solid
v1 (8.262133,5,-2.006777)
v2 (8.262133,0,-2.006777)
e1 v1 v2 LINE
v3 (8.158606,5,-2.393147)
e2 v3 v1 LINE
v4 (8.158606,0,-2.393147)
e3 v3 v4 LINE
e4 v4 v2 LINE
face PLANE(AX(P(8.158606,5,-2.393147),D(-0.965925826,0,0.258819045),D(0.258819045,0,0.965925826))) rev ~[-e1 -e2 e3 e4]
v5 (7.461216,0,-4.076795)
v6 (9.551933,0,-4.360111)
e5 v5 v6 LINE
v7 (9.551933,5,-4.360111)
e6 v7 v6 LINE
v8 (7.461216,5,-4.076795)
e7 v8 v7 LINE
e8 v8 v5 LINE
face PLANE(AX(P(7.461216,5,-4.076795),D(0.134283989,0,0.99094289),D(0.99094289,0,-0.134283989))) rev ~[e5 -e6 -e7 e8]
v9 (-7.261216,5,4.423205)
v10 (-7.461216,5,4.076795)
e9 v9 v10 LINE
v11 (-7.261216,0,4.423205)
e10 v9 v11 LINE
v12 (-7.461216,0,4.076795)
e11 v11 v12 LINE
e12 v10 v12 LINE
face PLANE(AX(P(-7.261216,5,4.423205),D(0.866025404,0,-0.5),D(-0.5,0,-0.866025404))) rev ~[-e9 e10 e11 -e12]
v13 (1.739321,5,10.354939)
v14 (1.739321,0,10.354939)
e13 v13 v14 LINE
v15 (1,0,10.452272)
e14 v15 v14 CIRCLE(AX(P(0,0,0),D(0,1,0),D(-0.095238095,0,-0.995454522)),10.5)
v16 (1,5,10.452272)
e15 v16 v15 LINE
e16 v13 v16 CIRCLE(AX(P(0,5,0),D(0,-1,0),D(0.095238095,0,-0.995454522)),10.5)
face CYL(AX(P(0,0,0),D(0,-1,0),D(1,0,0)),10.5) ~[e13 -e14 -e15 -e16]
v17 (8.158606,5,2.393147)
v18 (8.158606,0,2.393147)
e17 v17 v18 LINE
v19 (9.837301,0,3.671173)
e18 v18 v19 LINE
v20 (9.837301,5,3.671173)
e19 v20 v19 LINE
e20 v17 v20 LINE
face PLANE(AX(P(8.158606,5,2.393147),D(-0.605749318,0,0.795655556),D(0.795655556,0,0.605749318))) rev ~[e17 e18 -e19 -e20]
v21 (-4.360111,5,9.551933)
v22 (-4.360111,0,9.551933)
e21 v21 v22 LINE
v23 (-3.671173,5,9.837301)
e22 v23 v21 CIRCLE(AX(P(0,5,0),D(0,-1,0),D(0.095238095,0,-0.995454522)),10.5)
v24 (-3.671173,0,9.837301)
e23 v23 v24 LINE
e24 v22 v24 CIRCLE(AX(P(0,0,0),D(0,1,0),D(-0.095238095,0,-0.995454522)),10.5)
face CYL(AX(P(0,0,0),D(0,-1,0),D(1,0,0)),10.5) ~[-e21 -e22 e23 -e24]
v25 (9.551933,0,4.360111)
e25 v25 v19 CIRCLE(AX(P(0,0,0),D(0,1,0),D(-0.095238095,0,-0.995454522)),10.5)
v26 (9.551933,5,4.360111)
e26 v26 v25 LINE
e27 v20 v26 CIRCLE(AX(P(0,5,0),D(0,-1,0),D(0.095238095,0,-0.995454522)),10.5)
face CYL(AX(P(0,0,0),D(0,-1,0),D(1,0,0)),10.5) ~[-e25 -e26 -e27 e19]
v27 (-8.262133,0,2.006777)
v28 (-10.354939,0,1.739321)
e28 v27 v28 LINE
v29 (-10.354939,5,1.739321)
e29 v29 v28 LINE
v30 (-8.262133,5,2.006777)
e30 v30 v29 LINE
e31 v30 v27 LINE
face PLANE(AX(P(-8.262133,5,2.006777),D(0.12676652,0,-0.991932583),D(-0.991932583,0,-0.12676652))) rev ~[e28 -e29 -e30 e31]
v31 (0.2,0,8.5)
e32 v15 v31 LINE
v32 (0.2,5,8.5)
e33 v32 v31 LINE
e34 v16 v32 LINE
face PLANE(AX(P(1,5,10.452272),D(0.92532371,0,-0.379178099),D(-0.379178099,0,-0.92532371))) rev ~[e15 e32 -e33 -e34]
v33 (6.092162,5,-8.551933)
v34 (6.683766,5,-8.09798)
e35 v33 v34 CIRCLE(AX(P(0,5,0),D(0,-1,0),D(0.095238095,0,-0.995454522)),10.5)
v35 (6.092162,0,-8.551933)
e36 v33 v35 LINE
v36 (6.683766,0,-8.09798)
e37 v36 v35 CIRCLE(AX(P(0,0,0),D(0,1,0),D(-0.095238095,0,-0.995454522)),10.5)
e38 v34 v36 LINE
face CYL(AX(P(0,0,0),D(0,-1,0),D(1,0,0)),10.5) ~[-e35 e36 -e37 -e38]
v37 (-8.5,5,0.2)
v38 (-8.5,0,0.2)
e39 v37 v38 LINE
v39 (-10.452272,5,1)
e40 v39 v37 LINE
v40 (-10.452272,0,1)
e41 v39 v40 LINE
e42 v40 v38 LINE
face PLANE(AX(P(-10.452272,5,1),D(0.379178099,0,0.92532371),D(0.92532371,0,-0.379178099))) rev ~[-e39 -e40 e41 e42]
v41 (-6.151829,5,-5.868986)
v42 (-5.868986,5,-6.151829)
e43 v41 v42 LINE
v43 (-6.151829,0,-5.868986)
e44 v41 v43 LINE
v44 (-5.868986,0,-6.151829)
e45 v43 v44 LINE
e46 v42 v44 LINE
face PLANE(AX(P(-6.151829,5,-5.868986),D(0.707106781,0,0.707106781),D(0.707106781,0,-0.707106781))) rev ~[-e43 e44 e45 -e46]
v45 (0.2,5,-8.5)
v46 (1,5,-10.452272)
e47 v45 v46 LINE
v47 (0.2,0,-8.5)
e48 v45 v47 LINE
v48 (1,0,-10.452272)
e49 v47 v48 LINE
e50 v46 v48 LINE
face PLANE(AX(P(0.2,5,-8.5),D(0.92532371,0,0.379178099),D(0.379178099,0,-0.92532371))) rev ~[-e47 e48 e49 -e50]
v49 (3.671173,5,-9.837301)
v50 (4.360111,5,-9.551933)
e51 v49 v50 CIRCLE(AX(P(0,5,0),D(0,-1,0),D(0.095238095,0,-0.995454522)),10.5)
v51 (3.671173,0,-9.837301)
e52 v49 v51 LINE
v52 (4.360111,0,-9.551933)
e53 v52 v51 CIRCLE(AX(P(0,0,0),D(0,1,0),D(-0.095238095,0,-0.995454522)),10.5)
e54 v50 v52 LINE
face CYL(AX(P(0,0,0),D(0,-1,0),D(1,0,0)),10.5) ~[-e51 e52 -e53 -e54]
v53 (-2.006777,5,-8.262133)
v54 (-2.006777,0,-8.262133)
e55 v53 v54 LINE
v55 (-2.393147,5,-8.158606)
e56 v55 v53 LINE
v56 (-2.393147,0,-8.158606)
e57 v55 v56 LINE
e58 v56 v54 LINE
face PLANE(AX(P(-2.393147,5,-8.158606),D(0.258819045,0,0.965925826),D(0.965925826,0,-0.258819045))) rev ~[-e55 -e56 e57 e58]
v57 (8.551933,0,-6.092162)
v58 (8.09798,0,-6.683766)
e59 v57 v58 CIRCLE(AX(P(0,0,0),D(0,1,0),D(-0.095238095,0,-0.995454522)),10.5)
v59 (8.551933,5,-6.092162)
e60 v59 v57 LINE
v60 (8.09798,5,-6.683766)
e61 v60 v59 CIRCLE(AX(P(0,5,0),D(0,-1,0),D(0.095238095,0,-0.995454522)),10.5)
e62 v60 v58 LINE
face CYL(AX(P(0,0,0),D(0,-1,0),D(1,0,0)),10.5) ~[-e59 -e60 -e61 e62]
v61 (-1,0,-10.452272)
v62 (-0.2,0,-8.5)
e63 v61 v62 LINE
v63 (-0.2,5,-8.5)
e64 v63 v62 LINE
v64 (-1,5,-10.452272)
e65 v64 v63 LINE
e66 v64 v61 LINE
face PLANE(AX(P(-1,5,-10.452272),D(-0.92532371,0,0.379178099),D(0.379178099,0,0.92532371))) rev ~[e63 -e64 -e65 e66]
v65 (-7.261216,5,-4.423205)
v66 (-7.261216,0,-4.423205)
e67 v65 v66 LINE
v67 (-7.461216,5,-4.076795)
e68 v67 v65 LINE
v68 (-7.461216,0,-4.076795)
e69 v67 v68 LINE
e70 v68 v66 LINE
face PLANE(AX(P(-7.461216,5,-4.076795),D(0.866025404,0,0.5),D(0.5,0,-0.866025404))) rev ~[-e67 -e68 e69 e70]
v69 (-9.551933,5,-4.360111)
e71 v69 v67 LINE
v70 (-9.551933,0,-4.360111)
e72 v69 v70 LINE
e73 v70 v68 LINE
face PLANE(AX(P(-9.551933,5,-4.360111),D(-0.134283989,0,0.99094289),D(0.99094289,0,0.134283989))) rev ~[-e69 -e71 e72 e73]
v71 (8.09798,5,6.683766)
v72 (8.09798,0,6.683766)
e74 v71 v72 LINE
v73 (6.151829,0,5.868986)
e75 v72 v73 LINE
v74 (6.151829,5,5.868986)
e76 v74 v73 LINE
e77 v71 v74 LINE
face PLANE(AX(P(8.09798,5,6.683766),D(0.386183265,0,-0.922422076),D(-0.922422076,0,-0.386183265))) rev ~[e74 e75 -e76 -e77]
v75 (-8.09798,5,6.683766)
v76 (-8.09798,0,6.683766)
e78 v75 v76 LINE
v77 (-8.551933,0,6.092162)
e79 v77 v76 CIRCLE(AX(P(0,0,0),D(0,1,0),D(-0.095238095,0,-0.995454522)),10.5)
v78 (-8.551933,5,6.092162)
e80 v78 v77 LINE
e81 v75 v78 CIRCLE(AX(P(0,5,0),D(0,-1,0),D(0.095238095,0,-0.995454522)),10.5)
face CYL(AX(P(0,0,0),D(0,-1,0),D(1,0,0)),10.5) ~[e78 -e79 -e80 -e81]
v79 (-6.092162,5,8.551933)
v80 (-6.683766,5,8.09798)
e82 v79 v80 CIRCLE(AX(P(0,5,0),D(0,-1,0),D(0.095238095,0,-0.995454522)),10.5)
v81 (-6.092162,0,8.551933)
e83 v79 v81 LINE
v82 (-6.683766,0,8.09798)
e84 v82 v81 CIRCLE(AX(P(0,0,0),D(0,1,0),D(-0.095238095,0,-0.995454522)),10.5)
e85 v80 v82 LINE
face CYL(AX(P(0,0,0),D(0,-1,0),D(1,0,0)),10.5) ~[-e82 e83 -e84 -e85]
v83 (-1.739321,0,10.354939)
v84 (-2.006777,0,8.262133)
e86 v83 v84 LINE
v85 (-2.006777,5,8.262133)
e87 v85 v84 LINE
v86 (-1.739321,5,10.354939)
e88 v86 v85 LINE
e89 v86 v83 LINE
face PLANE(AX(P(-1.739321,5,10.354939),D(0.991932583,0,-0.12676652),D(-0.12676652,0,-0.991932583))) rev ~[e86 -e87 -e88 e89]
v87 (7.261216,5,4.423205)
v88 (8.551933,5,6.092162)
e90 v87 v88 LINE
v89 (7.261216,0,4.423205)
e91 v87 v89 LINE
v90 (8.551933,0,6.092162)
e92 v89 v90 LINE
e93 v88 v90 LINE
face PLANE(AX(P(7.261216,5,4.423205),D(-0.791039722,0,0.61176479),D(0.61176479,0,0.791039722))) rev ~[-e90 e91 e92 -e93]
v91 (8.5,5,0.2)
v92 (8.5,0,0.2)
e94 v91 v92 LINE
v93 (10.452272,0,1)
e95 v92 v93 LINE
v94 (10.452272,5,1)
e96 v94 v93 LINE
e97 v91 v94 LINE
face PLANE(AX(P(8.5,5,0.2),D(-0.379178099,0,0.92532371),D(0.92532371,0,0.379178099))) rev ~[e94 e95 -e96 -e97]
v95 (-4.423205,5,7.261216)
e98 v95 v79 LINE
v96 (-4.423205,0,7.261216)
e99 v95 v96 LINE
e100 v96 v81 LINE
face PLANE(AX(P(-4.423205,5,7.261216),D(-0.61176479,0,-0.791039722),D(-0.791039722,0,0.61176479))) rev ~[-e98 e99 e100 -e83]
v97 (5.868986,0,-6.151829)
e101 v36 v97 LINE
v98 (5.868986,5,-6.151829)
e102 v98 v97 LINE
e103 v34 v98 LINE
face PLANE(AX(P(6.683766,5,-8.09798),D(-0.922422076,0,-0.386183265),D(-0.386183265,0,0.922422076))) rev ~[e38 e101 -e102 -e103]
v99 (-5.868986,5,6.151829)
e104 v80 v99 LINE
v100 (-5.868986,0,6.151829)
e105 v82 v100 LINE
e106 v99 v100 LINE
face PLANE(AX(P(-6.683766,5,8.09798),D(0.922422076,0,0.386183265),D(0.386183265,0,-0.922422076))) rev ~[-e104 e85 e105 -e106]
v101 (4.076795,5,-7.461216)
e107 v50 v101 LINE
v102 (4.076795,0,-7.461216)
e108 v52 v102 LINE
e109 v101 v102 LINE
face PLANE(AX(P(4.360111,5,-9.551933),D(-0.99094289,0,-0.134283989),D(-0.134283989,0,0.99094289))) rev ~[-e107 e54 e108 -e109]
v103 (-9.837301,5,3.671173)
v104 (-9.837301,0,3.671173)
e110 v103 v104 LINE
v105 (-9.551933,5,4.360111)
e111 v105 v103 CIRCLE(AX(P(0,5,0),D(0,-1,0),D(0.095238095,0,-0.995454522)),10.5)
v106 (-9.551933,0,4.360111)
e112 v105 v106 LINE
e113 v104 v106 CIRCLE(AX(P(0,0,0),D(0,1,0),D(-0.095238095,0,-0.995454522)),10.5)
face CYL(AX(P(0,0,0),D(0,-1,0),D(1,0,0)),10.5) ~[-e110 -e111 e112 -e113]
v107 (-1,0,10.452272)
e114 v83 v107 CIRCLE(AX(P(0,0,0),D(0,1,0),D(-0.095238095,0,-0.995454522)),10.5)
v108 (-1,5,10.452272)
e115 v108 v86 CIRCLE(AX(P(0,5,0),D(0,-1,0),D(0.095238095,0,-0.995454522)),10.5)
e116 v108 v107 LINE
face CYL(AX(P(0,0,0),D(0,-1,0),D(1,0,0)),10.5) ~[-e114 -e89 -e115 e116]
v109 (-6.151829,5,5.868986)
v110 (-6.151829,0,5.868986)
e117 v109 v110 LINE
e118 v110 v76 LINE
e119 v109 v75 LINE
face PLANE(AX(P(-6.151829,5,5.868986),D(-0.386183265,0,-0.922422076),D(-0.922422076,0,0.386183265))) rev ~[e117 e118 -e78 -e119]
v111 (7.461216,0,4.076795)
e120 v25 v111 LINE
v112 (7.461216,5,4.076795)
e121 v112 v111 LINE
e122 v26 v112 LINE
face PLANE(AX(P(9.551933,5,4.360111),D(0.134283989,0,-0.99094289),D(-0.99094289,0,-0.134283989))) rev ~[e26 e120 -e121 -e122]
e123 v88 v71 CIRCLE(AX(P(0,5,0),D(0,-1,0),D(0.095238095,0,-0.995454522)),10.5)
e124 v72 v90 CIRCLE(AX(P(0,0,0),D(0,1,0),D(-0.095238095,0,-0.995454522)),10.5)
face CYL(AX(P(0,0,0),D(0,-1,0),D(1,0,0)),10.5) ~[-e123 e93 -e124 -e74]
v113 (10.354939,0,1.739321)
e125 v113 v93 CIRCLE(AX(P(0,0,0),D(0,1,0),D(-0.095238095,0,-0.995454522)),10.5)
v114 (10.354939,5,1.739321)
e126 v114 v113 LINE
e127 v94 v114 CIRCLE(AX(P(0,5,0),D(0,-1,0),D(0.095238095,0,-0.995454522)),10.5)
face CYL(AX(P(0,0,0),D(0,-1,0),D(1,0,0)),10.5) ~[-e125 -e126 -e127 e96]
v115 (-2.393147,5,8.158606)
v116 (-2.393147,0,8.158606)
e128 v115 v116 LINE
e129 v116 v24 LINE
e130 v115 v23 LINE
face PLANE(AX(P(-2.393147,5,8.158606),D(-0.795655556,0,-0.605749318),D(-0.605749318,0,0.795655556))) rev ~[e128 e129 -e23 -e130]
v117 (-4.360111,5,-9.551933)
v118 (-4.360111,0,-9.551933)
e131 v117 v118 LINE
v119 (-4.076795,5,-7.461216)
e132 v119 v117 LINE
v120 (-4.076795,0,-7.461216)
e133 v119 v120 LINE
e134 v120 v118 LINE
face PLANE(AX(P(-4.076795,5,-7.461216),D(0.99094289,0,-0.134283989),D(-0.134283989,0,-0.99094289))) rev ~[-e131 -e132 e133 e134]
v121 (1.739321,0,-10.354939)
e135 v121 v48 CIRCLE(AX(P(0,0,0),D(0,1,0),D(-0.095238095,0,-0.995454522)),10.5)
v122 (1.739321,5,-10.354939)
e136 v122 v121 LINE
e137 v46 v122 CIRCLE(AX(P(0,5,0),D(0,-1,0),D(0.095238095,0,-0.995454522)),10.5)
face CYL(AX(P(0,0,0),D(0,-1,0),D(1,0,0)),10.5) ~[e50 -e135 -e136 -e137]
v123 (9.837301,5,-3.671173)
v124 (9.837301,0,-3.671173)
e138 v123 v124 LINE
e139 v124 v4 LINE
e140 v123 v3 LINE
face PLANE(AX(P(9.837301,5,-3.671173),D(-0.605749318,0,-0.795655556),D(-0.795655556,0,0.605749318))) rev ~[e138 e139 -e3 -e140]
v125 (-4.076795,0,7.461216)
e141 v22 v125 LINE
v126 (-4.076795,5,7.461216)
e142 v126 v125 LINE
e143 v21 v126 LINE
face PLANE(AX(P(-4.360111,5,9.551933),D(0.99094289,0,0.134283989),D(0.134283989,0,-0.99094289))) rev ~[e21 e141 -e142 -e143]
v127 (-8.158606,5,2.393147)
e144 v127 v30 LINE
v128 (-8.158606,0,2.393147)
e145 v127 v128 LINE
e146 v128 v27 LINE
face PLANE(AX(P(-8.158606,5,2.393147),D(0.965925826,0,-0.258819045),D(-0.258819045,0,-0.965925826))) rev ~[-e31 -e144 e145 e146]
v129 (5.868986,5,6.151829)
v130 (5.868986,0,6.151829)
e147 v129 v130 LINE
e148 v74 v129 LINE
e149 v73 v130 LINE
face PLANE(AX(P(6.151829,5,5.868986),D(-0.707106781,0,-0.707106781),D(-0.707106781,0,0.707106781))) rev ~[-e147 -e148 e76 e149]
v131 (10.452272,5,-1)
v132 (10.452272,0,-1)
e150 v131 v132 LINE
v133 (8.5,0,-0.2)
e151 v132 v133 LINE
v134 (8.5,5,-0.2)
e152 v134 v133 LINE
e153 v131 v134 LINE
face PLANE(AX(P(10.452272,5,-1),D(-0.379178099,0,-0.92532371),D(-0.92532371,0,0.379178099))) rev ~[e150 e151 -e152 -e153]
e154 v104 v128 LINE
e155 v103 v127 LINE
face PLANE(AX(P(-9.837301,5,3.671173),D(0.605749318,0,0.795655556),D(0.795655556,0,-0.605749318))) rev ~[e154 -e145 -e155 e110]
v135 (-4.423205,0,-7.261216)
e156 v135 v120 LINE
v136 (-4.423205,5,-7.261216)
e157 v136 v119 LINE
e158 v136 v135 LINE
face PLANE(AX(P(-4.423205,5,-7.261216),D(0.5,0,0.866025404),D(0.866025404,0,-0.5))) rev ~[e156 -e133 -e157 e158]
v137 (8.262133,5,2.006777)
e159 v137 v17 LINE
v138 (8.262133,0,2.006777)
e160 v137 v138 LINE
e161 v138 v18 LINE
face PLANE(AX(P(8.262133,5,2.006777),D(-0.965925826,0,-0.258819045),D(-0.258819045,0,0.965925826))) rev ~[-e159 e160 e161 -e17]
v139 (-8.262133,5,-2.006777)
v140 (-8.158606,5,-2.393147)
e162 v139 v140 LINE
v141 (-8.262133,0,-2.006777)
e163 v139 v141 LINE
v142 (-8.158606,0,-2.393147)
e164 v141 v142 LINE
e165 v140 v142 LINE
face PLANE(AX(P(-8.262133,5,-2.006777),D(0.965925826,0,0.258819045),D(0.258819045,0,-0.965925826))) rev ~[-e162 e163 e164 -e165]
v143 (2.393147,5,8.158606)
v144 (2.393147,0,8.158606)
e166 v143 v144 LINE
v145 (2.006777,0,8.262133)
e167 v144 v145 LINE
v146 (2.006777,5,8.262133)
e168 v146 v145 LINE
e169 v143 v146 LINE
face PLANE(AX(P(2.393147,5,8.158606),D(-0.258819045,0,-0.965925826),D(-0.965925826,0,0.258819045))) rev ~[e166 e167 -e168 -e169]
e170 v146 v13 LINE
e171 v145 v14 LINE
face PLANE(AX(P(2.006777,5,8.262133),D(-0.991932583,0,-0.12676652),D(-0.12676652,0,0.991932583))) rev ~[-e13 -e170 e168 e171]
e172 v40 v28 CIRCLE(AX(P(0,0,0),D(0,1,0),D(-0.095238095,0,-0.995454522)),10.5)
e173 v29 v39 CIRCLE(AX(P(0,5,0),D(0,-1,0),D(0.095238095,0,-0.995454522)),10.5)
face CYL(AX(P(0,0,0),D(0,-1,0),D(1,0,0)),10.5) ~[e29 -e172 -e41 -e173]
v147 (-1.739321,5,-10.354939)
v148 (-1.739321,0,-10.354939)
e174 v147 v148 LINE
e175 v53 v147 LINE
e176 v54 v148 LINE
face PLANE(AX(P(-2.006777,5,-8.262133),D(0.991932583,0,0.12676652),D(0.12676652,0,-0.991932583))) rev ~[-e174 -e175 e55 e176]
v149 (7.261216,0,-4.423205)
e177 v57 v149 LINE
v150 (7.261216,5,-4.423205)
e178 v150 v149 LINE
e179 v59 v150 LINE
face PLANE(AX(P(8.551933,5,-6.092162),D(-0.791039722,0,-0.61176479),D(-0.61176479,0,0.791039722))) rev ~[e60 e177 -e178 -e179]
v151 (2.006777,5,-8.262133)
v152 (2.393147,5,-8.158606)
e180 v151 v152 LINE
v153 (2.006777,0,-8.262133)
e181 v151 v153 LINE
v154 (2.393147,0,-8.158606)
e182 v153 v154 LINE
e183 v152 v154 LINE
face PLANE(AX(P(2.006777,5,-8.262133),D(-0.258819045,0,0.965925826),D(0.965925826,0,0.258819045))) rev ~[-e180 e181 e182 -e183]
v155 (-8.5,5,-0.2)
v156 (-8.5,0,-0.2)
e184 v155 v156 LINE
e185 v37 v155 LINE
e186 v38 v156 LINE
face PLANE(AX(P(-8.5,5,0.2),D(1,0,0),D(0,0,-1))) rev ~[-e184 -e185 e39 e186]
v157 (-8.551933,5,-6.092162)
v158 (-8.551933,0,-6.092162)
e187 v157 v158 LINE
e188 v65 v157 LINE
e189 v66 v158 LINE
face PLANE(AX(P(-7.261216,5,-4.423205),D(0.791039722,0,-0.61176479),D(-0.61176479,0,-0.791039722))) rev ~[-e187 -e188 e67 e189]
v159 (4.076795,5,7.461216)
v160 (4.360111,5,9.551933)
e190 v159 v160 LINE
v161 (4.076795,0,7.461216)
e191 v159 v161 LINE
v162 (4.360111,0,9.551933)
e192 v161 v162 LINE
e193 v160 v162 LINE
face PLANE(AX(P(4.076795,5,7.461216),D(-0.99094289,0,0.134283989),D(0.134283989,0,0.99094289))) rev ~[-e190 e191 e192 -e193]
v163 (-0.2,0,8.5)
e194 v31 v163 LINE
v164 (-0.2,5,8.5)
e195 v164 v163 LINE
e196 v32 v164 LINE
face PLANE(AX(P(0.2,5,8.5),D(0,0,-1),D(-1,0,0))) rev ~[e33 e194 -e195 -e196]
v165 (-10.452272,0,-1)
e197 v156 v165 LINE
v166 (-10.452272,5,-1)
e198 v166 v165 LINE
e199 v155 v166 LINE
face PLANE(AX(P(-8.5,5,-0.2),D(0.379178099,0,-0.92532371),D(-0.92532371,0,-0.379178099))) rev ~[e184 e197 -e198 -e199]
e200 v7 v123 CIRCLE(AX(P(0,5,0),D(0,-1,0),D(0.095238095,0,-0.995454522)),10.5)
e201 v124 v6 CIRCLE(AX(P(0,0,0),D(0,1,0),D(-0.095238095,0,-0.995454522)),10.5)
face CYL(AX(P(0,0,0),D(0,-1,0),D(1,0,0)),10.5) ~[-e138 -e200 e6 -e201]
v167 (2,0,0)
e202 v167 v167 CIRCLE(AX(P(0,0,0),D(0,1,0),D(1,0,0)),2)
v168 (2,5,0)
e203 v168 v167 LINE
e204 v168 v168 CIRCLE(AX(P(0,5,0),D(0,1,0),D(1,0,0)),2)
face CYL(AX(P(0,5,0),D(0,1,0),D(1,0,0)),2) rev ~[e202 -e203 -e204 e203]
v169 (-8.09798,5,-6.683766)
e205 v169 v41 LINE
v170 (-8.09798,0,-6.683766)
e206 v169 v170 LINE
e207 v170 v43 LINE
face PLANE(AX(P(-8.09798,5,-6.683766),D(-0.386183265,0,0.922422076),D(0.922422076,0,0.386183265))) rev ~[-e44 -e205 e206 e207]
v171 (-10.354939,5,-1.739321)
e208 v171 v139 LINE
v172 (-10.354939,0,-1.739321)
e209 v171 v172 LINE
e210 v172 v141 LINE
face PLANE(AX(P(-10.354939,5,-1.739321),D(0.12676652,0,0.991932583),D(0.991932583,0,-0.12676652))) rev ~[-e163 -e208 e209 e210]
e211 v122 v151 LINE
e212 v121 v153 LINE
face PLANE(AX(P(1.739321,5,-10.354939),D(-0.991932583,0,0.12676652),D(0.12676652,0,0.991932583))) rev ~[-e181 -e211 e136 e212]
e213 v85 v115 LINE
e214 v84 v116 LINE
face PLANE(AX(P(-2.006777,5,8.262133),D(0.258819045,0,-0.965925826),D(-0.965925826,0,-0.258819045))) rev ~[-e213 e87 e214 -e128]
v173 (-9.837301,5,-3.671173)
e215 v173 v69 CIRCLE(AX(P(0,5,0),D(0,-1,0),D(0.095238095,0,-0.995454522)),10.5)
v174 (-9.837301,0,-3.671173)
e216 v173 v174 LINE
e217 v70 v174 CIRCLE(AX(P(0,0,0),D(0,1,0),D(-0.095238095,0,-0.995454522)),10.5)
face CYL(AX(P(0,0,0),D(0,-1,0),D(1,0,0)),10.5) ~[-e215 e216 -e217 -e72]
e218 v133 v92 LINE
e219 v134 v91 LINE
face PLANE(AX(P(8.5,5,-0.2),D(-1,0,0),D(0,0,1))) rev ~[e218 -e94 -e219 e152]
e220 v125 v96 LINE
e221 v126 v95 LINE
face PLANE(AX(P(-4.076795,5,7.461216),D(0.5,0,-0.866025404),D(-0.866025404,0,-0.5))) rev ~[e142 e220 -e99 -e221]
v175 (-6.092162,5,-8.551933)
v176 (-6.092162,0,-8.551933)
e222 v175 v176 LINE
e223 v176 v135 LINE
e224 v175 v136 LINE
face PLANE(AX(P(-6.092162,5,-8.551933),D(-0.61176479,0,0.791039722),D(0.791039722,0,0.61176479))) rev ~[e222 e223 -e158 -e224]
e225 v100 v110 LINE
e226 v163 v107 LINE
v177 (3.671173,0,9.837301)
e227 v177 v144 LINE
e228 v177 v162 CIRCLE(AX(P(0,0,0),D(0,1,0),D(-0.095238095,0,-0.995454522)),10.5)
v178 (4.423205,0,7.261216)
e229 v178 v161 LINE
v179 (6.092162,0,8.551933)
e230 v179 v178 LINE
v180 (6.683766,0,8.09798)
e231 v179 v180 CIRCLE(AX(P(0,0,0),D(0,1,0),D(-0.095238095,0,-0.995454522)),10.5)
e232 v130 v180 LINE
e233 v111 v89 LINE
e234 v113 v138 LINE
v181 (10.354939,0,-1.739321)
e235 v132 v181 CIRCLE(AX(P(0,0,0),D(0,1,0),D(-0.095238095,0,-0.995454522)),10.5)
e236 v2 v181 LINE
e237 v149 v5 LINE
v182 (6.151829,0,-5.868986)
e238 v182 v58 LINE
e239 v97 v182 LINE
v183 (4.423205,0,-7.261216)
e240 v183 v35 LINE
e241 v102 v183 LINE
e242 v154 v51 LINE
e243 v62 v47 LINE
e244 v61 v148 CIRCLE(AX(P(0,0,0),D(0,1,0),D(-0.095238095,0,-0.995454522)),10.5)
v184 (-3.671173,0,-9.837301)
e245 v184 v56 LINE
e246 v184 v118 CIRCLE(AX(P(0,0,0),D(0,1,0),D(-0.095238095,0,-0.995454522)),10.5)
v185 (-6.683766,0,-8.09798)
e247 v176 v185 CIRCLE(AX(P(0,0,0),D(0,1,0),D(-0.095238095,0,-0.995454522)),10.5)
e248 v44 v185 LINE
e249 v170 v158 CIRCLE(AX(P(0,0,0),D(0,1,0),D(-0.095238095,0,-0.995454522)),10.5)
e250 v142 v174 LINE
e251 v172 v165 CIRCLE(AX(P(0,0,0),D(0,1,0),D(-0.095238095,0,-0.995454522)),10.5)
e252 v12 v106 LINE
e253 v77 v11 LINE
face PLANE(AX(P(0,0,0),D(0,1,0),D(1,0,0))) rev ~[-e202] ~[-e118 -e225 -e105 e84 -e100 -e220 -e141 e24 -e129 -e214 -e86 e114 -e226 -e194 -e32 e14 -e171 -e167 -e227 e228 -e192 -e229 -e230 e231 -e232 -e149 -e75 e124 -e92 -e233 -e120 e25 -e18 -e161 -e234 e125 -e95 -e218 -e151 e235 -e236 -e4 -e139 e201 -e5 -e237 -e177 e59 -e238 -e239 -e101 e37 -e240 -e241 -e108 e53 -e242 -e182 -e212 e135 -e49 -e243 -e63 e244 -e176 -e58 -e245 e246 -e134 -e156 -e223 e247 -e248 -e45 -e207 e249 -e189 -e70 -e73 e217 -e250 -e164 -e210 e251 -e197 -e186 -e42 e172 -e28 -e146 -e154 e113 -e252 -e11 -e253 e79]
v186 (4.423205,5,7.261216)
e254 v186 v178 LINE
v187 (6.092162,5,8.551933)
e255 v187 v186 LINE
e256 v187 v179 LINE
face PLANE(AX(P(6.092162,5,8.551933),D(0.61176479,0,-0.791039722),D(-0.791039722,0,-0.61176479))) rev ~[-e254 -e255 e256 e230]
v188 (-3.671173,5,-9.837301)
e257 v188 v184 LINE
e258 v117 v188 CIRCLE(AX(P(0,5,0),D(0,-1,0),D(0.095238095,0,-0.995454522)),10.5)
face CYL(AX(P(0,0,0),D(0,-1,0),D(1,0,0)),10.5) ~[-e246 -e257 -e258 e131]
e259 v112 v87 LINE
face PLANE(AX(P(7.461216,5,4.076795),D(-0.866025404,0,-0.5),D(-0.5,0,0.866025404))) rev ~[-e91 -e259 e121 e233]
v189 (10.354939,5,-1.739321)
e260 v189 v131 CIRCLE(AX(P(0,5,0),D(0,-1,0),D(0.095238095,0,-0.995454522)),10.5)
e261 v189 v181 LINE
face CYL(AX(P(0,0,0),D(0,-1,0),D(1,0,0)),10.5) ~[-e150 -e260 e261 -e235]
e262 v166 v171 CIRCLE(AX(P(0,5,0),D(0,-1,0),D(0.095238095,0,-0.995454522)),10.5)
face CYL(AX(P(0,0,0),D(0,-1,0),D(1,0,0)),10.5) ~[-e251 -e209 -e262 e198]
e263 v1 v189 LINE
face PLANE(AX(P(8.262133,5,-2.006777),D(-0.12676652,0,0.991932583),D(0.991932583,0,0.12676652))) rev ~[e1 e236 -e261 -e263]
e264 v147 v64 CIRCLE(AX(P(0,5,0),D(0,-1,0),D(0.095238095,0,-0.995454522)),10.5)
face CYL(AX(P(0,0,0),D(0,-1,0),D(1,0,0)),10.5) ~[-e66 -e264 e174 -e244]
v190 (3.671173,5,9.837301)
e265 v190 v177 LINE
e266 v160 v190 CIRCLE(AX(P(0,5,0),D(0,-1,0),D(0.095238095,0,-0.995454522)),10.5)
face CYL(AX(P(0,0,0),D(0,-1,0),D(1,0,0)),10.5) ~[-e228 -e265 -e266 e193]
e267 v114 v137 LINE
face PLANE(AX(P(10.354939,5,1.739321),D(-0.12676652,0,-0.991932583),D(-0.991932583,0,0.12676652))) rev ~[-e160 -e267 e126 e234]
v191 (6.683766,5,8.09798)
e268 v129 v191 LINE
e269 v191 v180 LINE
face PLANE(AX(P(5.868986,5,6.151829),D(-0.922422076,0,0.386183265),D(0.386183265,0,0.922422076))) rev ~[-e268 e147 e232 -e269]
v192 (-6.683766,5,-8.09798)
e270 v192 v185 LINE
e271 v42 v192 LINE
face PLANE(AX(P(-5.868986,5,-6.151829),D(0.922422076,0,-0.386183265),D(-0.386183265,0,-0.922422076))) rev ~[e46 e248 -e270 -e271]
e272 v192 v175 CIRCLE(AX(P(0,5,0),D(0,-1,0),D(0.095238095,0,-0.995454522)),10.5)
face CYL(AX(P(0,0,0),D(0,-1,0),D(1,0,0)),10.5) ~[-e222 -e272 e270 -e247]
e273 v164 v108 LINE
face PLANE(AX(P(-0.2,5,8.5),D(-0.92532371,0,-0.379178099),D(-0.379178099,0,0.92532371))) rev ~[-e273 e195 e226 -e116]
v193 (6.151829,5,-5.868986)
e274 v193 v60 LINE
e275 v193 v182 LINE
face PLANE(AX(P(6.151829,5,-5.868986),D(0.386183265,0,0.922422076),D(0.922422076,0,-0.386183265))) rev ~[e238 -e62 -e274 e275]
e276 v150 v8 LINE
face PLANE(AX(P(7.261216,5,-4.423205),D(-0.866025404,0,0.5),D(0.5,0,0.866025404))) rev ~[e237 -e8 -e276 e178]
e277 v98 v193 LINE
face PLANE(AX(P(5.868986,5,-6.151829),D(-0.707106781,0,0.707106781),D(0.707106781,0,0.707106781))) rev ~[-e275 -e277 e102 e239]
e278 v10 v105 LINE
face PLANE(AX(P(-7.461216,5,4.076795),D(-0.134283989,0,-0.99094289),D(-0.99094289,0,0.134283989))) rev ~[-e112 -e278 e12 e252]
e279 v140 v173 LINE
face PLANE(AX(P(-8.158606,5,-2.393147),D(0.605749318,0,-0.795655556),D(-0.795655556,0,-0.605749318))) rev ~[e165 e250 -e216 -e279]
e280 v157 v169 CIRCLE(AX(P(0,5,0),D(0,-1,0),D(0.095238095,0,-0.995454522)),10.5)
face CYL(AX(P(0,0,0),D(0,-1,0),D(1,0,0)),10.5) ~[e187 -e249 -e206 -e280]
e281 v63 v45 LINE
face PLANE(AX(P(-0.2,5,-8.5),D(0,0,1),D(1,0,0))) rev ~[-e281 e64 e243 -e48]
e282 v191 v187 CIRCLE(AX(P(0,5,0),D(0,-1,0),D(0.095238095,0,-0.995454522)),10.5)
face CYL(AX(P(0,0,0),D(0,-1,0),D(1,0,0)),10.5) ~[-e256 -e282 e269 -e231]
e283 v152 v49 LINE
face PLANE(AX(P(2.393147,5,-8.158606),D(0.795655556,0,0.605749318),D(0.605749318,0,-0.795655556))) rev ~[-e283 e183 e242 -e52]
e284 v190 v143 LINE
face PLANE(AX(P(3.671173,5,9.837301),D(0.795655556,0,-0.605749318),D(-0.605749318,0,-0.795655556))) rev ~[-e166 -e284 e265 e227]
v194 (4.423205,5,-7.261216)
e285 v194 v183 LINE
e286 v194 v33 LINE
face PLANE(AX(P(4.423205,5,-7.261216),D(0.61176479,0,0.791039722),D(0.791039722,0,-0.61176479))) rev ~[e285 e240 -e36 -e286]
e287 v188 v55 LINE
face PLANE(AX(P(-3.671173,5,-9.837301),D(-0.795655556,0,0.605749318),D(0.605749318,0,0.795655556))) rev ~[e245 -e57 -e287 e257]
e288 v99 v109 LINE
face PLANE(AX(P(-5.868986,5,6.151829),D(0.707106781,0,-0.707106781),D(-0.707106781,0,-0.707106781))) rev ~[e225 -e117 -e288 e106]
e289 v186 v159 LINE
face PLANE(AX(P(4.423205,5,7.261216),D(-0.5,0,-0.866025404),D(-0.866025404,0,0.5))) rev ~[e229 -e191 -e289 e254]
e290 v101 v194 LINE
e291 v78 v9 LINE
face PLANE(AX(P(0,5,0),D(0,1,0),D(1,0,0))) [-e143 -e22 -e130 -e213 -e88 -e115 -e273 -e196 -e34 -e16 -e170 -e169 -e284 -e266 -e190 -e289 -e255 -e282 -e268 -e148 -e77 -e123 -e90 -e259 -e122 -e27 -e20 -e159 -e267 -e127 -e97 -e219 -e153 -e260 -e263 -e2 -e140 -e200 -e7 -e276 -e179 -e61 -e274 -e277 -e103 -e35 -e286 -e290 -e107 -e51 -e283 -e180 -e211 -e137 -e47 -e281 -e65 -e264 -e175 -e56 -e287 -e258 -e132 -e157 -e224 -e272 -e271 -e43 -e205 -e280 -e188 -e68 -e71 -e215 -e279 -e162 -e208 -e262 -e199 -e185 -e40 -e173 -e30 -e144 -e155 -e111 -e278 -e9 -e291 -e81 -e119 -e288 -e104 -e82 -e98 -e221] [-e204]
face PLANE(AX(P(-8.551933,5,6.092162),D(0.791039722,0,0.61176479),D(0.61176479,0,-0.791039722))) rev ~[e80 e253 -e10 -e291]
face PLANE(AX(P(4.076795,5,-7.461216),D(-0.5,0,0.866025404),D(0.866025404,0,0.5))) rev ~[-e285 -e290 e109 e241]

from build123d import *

# Parameters (mm, degrees)
SKETCH1_R           = 10.5
BOSS_EXTRUDE1_DEPTH = 5
SKETCH2_R           = 2
CUT_EXTRUDE1_DEPTH  = 6
CUT_EXTRUDE2_DEPTH  = 5
CIRPATTERN1_COUNT   = 24


with BuildPart() as part:
    # Sketch1 → Boss-Extrude1 (new body)
    with BuildSketch(Plane(origin=(0, 0, 0), x_dir=(1, 0, 0), z_dir=(0, 1, 0))):
        Circle(SKETCH1_R)
    extrude(amount=BOSS_EXTRUDE1_DEPTH)

    # Sketch2 → Cut-Extrude1 (cut, through all)
    with BuildSketch(Plane(origin=(0, 5, 0), x_dir=(1, 0, 0), z_dir=(0, 1, 0))):
        Circle(SKETCH2_R)
    extrude(amount=-CUT_EXTRUDE1_DEPTH, mode=Mode.SUBTRACT)

    # Sketch3 → Cut-Extrude2 (cut)
    with BuildSketch(Plane(origin=(0, 5, 0), x_dir=(1, 0, 0), z_dir=(0, 1, 0))):
        Polygon((0, 8.5), (0.2, 8.5), (1, 10.45227248), (1, 11.821377403), (-1, 11.821377403), (-1, 10.45227248), (-0.2, 8.5), align=None)
    cut_extrude2 = extrude(amount=-CUT_EXTRUDE2_DEPTH, mode=Mode.SUBTRACT)

    # CirPattern1: Cut-Extrude2 ×24 about axis
    cirpattern1_axis = Axis((0, 0, 0), (0, 1, 0))
    for i in range(1, CIRPATTERN1_COUNT):
        add(cut_extrude2.rotate(cirpattern1_axis, i * 360 / CIRPATTERN1_COUNT), mode=Mode.SUBTRACT)


solid = part.part
